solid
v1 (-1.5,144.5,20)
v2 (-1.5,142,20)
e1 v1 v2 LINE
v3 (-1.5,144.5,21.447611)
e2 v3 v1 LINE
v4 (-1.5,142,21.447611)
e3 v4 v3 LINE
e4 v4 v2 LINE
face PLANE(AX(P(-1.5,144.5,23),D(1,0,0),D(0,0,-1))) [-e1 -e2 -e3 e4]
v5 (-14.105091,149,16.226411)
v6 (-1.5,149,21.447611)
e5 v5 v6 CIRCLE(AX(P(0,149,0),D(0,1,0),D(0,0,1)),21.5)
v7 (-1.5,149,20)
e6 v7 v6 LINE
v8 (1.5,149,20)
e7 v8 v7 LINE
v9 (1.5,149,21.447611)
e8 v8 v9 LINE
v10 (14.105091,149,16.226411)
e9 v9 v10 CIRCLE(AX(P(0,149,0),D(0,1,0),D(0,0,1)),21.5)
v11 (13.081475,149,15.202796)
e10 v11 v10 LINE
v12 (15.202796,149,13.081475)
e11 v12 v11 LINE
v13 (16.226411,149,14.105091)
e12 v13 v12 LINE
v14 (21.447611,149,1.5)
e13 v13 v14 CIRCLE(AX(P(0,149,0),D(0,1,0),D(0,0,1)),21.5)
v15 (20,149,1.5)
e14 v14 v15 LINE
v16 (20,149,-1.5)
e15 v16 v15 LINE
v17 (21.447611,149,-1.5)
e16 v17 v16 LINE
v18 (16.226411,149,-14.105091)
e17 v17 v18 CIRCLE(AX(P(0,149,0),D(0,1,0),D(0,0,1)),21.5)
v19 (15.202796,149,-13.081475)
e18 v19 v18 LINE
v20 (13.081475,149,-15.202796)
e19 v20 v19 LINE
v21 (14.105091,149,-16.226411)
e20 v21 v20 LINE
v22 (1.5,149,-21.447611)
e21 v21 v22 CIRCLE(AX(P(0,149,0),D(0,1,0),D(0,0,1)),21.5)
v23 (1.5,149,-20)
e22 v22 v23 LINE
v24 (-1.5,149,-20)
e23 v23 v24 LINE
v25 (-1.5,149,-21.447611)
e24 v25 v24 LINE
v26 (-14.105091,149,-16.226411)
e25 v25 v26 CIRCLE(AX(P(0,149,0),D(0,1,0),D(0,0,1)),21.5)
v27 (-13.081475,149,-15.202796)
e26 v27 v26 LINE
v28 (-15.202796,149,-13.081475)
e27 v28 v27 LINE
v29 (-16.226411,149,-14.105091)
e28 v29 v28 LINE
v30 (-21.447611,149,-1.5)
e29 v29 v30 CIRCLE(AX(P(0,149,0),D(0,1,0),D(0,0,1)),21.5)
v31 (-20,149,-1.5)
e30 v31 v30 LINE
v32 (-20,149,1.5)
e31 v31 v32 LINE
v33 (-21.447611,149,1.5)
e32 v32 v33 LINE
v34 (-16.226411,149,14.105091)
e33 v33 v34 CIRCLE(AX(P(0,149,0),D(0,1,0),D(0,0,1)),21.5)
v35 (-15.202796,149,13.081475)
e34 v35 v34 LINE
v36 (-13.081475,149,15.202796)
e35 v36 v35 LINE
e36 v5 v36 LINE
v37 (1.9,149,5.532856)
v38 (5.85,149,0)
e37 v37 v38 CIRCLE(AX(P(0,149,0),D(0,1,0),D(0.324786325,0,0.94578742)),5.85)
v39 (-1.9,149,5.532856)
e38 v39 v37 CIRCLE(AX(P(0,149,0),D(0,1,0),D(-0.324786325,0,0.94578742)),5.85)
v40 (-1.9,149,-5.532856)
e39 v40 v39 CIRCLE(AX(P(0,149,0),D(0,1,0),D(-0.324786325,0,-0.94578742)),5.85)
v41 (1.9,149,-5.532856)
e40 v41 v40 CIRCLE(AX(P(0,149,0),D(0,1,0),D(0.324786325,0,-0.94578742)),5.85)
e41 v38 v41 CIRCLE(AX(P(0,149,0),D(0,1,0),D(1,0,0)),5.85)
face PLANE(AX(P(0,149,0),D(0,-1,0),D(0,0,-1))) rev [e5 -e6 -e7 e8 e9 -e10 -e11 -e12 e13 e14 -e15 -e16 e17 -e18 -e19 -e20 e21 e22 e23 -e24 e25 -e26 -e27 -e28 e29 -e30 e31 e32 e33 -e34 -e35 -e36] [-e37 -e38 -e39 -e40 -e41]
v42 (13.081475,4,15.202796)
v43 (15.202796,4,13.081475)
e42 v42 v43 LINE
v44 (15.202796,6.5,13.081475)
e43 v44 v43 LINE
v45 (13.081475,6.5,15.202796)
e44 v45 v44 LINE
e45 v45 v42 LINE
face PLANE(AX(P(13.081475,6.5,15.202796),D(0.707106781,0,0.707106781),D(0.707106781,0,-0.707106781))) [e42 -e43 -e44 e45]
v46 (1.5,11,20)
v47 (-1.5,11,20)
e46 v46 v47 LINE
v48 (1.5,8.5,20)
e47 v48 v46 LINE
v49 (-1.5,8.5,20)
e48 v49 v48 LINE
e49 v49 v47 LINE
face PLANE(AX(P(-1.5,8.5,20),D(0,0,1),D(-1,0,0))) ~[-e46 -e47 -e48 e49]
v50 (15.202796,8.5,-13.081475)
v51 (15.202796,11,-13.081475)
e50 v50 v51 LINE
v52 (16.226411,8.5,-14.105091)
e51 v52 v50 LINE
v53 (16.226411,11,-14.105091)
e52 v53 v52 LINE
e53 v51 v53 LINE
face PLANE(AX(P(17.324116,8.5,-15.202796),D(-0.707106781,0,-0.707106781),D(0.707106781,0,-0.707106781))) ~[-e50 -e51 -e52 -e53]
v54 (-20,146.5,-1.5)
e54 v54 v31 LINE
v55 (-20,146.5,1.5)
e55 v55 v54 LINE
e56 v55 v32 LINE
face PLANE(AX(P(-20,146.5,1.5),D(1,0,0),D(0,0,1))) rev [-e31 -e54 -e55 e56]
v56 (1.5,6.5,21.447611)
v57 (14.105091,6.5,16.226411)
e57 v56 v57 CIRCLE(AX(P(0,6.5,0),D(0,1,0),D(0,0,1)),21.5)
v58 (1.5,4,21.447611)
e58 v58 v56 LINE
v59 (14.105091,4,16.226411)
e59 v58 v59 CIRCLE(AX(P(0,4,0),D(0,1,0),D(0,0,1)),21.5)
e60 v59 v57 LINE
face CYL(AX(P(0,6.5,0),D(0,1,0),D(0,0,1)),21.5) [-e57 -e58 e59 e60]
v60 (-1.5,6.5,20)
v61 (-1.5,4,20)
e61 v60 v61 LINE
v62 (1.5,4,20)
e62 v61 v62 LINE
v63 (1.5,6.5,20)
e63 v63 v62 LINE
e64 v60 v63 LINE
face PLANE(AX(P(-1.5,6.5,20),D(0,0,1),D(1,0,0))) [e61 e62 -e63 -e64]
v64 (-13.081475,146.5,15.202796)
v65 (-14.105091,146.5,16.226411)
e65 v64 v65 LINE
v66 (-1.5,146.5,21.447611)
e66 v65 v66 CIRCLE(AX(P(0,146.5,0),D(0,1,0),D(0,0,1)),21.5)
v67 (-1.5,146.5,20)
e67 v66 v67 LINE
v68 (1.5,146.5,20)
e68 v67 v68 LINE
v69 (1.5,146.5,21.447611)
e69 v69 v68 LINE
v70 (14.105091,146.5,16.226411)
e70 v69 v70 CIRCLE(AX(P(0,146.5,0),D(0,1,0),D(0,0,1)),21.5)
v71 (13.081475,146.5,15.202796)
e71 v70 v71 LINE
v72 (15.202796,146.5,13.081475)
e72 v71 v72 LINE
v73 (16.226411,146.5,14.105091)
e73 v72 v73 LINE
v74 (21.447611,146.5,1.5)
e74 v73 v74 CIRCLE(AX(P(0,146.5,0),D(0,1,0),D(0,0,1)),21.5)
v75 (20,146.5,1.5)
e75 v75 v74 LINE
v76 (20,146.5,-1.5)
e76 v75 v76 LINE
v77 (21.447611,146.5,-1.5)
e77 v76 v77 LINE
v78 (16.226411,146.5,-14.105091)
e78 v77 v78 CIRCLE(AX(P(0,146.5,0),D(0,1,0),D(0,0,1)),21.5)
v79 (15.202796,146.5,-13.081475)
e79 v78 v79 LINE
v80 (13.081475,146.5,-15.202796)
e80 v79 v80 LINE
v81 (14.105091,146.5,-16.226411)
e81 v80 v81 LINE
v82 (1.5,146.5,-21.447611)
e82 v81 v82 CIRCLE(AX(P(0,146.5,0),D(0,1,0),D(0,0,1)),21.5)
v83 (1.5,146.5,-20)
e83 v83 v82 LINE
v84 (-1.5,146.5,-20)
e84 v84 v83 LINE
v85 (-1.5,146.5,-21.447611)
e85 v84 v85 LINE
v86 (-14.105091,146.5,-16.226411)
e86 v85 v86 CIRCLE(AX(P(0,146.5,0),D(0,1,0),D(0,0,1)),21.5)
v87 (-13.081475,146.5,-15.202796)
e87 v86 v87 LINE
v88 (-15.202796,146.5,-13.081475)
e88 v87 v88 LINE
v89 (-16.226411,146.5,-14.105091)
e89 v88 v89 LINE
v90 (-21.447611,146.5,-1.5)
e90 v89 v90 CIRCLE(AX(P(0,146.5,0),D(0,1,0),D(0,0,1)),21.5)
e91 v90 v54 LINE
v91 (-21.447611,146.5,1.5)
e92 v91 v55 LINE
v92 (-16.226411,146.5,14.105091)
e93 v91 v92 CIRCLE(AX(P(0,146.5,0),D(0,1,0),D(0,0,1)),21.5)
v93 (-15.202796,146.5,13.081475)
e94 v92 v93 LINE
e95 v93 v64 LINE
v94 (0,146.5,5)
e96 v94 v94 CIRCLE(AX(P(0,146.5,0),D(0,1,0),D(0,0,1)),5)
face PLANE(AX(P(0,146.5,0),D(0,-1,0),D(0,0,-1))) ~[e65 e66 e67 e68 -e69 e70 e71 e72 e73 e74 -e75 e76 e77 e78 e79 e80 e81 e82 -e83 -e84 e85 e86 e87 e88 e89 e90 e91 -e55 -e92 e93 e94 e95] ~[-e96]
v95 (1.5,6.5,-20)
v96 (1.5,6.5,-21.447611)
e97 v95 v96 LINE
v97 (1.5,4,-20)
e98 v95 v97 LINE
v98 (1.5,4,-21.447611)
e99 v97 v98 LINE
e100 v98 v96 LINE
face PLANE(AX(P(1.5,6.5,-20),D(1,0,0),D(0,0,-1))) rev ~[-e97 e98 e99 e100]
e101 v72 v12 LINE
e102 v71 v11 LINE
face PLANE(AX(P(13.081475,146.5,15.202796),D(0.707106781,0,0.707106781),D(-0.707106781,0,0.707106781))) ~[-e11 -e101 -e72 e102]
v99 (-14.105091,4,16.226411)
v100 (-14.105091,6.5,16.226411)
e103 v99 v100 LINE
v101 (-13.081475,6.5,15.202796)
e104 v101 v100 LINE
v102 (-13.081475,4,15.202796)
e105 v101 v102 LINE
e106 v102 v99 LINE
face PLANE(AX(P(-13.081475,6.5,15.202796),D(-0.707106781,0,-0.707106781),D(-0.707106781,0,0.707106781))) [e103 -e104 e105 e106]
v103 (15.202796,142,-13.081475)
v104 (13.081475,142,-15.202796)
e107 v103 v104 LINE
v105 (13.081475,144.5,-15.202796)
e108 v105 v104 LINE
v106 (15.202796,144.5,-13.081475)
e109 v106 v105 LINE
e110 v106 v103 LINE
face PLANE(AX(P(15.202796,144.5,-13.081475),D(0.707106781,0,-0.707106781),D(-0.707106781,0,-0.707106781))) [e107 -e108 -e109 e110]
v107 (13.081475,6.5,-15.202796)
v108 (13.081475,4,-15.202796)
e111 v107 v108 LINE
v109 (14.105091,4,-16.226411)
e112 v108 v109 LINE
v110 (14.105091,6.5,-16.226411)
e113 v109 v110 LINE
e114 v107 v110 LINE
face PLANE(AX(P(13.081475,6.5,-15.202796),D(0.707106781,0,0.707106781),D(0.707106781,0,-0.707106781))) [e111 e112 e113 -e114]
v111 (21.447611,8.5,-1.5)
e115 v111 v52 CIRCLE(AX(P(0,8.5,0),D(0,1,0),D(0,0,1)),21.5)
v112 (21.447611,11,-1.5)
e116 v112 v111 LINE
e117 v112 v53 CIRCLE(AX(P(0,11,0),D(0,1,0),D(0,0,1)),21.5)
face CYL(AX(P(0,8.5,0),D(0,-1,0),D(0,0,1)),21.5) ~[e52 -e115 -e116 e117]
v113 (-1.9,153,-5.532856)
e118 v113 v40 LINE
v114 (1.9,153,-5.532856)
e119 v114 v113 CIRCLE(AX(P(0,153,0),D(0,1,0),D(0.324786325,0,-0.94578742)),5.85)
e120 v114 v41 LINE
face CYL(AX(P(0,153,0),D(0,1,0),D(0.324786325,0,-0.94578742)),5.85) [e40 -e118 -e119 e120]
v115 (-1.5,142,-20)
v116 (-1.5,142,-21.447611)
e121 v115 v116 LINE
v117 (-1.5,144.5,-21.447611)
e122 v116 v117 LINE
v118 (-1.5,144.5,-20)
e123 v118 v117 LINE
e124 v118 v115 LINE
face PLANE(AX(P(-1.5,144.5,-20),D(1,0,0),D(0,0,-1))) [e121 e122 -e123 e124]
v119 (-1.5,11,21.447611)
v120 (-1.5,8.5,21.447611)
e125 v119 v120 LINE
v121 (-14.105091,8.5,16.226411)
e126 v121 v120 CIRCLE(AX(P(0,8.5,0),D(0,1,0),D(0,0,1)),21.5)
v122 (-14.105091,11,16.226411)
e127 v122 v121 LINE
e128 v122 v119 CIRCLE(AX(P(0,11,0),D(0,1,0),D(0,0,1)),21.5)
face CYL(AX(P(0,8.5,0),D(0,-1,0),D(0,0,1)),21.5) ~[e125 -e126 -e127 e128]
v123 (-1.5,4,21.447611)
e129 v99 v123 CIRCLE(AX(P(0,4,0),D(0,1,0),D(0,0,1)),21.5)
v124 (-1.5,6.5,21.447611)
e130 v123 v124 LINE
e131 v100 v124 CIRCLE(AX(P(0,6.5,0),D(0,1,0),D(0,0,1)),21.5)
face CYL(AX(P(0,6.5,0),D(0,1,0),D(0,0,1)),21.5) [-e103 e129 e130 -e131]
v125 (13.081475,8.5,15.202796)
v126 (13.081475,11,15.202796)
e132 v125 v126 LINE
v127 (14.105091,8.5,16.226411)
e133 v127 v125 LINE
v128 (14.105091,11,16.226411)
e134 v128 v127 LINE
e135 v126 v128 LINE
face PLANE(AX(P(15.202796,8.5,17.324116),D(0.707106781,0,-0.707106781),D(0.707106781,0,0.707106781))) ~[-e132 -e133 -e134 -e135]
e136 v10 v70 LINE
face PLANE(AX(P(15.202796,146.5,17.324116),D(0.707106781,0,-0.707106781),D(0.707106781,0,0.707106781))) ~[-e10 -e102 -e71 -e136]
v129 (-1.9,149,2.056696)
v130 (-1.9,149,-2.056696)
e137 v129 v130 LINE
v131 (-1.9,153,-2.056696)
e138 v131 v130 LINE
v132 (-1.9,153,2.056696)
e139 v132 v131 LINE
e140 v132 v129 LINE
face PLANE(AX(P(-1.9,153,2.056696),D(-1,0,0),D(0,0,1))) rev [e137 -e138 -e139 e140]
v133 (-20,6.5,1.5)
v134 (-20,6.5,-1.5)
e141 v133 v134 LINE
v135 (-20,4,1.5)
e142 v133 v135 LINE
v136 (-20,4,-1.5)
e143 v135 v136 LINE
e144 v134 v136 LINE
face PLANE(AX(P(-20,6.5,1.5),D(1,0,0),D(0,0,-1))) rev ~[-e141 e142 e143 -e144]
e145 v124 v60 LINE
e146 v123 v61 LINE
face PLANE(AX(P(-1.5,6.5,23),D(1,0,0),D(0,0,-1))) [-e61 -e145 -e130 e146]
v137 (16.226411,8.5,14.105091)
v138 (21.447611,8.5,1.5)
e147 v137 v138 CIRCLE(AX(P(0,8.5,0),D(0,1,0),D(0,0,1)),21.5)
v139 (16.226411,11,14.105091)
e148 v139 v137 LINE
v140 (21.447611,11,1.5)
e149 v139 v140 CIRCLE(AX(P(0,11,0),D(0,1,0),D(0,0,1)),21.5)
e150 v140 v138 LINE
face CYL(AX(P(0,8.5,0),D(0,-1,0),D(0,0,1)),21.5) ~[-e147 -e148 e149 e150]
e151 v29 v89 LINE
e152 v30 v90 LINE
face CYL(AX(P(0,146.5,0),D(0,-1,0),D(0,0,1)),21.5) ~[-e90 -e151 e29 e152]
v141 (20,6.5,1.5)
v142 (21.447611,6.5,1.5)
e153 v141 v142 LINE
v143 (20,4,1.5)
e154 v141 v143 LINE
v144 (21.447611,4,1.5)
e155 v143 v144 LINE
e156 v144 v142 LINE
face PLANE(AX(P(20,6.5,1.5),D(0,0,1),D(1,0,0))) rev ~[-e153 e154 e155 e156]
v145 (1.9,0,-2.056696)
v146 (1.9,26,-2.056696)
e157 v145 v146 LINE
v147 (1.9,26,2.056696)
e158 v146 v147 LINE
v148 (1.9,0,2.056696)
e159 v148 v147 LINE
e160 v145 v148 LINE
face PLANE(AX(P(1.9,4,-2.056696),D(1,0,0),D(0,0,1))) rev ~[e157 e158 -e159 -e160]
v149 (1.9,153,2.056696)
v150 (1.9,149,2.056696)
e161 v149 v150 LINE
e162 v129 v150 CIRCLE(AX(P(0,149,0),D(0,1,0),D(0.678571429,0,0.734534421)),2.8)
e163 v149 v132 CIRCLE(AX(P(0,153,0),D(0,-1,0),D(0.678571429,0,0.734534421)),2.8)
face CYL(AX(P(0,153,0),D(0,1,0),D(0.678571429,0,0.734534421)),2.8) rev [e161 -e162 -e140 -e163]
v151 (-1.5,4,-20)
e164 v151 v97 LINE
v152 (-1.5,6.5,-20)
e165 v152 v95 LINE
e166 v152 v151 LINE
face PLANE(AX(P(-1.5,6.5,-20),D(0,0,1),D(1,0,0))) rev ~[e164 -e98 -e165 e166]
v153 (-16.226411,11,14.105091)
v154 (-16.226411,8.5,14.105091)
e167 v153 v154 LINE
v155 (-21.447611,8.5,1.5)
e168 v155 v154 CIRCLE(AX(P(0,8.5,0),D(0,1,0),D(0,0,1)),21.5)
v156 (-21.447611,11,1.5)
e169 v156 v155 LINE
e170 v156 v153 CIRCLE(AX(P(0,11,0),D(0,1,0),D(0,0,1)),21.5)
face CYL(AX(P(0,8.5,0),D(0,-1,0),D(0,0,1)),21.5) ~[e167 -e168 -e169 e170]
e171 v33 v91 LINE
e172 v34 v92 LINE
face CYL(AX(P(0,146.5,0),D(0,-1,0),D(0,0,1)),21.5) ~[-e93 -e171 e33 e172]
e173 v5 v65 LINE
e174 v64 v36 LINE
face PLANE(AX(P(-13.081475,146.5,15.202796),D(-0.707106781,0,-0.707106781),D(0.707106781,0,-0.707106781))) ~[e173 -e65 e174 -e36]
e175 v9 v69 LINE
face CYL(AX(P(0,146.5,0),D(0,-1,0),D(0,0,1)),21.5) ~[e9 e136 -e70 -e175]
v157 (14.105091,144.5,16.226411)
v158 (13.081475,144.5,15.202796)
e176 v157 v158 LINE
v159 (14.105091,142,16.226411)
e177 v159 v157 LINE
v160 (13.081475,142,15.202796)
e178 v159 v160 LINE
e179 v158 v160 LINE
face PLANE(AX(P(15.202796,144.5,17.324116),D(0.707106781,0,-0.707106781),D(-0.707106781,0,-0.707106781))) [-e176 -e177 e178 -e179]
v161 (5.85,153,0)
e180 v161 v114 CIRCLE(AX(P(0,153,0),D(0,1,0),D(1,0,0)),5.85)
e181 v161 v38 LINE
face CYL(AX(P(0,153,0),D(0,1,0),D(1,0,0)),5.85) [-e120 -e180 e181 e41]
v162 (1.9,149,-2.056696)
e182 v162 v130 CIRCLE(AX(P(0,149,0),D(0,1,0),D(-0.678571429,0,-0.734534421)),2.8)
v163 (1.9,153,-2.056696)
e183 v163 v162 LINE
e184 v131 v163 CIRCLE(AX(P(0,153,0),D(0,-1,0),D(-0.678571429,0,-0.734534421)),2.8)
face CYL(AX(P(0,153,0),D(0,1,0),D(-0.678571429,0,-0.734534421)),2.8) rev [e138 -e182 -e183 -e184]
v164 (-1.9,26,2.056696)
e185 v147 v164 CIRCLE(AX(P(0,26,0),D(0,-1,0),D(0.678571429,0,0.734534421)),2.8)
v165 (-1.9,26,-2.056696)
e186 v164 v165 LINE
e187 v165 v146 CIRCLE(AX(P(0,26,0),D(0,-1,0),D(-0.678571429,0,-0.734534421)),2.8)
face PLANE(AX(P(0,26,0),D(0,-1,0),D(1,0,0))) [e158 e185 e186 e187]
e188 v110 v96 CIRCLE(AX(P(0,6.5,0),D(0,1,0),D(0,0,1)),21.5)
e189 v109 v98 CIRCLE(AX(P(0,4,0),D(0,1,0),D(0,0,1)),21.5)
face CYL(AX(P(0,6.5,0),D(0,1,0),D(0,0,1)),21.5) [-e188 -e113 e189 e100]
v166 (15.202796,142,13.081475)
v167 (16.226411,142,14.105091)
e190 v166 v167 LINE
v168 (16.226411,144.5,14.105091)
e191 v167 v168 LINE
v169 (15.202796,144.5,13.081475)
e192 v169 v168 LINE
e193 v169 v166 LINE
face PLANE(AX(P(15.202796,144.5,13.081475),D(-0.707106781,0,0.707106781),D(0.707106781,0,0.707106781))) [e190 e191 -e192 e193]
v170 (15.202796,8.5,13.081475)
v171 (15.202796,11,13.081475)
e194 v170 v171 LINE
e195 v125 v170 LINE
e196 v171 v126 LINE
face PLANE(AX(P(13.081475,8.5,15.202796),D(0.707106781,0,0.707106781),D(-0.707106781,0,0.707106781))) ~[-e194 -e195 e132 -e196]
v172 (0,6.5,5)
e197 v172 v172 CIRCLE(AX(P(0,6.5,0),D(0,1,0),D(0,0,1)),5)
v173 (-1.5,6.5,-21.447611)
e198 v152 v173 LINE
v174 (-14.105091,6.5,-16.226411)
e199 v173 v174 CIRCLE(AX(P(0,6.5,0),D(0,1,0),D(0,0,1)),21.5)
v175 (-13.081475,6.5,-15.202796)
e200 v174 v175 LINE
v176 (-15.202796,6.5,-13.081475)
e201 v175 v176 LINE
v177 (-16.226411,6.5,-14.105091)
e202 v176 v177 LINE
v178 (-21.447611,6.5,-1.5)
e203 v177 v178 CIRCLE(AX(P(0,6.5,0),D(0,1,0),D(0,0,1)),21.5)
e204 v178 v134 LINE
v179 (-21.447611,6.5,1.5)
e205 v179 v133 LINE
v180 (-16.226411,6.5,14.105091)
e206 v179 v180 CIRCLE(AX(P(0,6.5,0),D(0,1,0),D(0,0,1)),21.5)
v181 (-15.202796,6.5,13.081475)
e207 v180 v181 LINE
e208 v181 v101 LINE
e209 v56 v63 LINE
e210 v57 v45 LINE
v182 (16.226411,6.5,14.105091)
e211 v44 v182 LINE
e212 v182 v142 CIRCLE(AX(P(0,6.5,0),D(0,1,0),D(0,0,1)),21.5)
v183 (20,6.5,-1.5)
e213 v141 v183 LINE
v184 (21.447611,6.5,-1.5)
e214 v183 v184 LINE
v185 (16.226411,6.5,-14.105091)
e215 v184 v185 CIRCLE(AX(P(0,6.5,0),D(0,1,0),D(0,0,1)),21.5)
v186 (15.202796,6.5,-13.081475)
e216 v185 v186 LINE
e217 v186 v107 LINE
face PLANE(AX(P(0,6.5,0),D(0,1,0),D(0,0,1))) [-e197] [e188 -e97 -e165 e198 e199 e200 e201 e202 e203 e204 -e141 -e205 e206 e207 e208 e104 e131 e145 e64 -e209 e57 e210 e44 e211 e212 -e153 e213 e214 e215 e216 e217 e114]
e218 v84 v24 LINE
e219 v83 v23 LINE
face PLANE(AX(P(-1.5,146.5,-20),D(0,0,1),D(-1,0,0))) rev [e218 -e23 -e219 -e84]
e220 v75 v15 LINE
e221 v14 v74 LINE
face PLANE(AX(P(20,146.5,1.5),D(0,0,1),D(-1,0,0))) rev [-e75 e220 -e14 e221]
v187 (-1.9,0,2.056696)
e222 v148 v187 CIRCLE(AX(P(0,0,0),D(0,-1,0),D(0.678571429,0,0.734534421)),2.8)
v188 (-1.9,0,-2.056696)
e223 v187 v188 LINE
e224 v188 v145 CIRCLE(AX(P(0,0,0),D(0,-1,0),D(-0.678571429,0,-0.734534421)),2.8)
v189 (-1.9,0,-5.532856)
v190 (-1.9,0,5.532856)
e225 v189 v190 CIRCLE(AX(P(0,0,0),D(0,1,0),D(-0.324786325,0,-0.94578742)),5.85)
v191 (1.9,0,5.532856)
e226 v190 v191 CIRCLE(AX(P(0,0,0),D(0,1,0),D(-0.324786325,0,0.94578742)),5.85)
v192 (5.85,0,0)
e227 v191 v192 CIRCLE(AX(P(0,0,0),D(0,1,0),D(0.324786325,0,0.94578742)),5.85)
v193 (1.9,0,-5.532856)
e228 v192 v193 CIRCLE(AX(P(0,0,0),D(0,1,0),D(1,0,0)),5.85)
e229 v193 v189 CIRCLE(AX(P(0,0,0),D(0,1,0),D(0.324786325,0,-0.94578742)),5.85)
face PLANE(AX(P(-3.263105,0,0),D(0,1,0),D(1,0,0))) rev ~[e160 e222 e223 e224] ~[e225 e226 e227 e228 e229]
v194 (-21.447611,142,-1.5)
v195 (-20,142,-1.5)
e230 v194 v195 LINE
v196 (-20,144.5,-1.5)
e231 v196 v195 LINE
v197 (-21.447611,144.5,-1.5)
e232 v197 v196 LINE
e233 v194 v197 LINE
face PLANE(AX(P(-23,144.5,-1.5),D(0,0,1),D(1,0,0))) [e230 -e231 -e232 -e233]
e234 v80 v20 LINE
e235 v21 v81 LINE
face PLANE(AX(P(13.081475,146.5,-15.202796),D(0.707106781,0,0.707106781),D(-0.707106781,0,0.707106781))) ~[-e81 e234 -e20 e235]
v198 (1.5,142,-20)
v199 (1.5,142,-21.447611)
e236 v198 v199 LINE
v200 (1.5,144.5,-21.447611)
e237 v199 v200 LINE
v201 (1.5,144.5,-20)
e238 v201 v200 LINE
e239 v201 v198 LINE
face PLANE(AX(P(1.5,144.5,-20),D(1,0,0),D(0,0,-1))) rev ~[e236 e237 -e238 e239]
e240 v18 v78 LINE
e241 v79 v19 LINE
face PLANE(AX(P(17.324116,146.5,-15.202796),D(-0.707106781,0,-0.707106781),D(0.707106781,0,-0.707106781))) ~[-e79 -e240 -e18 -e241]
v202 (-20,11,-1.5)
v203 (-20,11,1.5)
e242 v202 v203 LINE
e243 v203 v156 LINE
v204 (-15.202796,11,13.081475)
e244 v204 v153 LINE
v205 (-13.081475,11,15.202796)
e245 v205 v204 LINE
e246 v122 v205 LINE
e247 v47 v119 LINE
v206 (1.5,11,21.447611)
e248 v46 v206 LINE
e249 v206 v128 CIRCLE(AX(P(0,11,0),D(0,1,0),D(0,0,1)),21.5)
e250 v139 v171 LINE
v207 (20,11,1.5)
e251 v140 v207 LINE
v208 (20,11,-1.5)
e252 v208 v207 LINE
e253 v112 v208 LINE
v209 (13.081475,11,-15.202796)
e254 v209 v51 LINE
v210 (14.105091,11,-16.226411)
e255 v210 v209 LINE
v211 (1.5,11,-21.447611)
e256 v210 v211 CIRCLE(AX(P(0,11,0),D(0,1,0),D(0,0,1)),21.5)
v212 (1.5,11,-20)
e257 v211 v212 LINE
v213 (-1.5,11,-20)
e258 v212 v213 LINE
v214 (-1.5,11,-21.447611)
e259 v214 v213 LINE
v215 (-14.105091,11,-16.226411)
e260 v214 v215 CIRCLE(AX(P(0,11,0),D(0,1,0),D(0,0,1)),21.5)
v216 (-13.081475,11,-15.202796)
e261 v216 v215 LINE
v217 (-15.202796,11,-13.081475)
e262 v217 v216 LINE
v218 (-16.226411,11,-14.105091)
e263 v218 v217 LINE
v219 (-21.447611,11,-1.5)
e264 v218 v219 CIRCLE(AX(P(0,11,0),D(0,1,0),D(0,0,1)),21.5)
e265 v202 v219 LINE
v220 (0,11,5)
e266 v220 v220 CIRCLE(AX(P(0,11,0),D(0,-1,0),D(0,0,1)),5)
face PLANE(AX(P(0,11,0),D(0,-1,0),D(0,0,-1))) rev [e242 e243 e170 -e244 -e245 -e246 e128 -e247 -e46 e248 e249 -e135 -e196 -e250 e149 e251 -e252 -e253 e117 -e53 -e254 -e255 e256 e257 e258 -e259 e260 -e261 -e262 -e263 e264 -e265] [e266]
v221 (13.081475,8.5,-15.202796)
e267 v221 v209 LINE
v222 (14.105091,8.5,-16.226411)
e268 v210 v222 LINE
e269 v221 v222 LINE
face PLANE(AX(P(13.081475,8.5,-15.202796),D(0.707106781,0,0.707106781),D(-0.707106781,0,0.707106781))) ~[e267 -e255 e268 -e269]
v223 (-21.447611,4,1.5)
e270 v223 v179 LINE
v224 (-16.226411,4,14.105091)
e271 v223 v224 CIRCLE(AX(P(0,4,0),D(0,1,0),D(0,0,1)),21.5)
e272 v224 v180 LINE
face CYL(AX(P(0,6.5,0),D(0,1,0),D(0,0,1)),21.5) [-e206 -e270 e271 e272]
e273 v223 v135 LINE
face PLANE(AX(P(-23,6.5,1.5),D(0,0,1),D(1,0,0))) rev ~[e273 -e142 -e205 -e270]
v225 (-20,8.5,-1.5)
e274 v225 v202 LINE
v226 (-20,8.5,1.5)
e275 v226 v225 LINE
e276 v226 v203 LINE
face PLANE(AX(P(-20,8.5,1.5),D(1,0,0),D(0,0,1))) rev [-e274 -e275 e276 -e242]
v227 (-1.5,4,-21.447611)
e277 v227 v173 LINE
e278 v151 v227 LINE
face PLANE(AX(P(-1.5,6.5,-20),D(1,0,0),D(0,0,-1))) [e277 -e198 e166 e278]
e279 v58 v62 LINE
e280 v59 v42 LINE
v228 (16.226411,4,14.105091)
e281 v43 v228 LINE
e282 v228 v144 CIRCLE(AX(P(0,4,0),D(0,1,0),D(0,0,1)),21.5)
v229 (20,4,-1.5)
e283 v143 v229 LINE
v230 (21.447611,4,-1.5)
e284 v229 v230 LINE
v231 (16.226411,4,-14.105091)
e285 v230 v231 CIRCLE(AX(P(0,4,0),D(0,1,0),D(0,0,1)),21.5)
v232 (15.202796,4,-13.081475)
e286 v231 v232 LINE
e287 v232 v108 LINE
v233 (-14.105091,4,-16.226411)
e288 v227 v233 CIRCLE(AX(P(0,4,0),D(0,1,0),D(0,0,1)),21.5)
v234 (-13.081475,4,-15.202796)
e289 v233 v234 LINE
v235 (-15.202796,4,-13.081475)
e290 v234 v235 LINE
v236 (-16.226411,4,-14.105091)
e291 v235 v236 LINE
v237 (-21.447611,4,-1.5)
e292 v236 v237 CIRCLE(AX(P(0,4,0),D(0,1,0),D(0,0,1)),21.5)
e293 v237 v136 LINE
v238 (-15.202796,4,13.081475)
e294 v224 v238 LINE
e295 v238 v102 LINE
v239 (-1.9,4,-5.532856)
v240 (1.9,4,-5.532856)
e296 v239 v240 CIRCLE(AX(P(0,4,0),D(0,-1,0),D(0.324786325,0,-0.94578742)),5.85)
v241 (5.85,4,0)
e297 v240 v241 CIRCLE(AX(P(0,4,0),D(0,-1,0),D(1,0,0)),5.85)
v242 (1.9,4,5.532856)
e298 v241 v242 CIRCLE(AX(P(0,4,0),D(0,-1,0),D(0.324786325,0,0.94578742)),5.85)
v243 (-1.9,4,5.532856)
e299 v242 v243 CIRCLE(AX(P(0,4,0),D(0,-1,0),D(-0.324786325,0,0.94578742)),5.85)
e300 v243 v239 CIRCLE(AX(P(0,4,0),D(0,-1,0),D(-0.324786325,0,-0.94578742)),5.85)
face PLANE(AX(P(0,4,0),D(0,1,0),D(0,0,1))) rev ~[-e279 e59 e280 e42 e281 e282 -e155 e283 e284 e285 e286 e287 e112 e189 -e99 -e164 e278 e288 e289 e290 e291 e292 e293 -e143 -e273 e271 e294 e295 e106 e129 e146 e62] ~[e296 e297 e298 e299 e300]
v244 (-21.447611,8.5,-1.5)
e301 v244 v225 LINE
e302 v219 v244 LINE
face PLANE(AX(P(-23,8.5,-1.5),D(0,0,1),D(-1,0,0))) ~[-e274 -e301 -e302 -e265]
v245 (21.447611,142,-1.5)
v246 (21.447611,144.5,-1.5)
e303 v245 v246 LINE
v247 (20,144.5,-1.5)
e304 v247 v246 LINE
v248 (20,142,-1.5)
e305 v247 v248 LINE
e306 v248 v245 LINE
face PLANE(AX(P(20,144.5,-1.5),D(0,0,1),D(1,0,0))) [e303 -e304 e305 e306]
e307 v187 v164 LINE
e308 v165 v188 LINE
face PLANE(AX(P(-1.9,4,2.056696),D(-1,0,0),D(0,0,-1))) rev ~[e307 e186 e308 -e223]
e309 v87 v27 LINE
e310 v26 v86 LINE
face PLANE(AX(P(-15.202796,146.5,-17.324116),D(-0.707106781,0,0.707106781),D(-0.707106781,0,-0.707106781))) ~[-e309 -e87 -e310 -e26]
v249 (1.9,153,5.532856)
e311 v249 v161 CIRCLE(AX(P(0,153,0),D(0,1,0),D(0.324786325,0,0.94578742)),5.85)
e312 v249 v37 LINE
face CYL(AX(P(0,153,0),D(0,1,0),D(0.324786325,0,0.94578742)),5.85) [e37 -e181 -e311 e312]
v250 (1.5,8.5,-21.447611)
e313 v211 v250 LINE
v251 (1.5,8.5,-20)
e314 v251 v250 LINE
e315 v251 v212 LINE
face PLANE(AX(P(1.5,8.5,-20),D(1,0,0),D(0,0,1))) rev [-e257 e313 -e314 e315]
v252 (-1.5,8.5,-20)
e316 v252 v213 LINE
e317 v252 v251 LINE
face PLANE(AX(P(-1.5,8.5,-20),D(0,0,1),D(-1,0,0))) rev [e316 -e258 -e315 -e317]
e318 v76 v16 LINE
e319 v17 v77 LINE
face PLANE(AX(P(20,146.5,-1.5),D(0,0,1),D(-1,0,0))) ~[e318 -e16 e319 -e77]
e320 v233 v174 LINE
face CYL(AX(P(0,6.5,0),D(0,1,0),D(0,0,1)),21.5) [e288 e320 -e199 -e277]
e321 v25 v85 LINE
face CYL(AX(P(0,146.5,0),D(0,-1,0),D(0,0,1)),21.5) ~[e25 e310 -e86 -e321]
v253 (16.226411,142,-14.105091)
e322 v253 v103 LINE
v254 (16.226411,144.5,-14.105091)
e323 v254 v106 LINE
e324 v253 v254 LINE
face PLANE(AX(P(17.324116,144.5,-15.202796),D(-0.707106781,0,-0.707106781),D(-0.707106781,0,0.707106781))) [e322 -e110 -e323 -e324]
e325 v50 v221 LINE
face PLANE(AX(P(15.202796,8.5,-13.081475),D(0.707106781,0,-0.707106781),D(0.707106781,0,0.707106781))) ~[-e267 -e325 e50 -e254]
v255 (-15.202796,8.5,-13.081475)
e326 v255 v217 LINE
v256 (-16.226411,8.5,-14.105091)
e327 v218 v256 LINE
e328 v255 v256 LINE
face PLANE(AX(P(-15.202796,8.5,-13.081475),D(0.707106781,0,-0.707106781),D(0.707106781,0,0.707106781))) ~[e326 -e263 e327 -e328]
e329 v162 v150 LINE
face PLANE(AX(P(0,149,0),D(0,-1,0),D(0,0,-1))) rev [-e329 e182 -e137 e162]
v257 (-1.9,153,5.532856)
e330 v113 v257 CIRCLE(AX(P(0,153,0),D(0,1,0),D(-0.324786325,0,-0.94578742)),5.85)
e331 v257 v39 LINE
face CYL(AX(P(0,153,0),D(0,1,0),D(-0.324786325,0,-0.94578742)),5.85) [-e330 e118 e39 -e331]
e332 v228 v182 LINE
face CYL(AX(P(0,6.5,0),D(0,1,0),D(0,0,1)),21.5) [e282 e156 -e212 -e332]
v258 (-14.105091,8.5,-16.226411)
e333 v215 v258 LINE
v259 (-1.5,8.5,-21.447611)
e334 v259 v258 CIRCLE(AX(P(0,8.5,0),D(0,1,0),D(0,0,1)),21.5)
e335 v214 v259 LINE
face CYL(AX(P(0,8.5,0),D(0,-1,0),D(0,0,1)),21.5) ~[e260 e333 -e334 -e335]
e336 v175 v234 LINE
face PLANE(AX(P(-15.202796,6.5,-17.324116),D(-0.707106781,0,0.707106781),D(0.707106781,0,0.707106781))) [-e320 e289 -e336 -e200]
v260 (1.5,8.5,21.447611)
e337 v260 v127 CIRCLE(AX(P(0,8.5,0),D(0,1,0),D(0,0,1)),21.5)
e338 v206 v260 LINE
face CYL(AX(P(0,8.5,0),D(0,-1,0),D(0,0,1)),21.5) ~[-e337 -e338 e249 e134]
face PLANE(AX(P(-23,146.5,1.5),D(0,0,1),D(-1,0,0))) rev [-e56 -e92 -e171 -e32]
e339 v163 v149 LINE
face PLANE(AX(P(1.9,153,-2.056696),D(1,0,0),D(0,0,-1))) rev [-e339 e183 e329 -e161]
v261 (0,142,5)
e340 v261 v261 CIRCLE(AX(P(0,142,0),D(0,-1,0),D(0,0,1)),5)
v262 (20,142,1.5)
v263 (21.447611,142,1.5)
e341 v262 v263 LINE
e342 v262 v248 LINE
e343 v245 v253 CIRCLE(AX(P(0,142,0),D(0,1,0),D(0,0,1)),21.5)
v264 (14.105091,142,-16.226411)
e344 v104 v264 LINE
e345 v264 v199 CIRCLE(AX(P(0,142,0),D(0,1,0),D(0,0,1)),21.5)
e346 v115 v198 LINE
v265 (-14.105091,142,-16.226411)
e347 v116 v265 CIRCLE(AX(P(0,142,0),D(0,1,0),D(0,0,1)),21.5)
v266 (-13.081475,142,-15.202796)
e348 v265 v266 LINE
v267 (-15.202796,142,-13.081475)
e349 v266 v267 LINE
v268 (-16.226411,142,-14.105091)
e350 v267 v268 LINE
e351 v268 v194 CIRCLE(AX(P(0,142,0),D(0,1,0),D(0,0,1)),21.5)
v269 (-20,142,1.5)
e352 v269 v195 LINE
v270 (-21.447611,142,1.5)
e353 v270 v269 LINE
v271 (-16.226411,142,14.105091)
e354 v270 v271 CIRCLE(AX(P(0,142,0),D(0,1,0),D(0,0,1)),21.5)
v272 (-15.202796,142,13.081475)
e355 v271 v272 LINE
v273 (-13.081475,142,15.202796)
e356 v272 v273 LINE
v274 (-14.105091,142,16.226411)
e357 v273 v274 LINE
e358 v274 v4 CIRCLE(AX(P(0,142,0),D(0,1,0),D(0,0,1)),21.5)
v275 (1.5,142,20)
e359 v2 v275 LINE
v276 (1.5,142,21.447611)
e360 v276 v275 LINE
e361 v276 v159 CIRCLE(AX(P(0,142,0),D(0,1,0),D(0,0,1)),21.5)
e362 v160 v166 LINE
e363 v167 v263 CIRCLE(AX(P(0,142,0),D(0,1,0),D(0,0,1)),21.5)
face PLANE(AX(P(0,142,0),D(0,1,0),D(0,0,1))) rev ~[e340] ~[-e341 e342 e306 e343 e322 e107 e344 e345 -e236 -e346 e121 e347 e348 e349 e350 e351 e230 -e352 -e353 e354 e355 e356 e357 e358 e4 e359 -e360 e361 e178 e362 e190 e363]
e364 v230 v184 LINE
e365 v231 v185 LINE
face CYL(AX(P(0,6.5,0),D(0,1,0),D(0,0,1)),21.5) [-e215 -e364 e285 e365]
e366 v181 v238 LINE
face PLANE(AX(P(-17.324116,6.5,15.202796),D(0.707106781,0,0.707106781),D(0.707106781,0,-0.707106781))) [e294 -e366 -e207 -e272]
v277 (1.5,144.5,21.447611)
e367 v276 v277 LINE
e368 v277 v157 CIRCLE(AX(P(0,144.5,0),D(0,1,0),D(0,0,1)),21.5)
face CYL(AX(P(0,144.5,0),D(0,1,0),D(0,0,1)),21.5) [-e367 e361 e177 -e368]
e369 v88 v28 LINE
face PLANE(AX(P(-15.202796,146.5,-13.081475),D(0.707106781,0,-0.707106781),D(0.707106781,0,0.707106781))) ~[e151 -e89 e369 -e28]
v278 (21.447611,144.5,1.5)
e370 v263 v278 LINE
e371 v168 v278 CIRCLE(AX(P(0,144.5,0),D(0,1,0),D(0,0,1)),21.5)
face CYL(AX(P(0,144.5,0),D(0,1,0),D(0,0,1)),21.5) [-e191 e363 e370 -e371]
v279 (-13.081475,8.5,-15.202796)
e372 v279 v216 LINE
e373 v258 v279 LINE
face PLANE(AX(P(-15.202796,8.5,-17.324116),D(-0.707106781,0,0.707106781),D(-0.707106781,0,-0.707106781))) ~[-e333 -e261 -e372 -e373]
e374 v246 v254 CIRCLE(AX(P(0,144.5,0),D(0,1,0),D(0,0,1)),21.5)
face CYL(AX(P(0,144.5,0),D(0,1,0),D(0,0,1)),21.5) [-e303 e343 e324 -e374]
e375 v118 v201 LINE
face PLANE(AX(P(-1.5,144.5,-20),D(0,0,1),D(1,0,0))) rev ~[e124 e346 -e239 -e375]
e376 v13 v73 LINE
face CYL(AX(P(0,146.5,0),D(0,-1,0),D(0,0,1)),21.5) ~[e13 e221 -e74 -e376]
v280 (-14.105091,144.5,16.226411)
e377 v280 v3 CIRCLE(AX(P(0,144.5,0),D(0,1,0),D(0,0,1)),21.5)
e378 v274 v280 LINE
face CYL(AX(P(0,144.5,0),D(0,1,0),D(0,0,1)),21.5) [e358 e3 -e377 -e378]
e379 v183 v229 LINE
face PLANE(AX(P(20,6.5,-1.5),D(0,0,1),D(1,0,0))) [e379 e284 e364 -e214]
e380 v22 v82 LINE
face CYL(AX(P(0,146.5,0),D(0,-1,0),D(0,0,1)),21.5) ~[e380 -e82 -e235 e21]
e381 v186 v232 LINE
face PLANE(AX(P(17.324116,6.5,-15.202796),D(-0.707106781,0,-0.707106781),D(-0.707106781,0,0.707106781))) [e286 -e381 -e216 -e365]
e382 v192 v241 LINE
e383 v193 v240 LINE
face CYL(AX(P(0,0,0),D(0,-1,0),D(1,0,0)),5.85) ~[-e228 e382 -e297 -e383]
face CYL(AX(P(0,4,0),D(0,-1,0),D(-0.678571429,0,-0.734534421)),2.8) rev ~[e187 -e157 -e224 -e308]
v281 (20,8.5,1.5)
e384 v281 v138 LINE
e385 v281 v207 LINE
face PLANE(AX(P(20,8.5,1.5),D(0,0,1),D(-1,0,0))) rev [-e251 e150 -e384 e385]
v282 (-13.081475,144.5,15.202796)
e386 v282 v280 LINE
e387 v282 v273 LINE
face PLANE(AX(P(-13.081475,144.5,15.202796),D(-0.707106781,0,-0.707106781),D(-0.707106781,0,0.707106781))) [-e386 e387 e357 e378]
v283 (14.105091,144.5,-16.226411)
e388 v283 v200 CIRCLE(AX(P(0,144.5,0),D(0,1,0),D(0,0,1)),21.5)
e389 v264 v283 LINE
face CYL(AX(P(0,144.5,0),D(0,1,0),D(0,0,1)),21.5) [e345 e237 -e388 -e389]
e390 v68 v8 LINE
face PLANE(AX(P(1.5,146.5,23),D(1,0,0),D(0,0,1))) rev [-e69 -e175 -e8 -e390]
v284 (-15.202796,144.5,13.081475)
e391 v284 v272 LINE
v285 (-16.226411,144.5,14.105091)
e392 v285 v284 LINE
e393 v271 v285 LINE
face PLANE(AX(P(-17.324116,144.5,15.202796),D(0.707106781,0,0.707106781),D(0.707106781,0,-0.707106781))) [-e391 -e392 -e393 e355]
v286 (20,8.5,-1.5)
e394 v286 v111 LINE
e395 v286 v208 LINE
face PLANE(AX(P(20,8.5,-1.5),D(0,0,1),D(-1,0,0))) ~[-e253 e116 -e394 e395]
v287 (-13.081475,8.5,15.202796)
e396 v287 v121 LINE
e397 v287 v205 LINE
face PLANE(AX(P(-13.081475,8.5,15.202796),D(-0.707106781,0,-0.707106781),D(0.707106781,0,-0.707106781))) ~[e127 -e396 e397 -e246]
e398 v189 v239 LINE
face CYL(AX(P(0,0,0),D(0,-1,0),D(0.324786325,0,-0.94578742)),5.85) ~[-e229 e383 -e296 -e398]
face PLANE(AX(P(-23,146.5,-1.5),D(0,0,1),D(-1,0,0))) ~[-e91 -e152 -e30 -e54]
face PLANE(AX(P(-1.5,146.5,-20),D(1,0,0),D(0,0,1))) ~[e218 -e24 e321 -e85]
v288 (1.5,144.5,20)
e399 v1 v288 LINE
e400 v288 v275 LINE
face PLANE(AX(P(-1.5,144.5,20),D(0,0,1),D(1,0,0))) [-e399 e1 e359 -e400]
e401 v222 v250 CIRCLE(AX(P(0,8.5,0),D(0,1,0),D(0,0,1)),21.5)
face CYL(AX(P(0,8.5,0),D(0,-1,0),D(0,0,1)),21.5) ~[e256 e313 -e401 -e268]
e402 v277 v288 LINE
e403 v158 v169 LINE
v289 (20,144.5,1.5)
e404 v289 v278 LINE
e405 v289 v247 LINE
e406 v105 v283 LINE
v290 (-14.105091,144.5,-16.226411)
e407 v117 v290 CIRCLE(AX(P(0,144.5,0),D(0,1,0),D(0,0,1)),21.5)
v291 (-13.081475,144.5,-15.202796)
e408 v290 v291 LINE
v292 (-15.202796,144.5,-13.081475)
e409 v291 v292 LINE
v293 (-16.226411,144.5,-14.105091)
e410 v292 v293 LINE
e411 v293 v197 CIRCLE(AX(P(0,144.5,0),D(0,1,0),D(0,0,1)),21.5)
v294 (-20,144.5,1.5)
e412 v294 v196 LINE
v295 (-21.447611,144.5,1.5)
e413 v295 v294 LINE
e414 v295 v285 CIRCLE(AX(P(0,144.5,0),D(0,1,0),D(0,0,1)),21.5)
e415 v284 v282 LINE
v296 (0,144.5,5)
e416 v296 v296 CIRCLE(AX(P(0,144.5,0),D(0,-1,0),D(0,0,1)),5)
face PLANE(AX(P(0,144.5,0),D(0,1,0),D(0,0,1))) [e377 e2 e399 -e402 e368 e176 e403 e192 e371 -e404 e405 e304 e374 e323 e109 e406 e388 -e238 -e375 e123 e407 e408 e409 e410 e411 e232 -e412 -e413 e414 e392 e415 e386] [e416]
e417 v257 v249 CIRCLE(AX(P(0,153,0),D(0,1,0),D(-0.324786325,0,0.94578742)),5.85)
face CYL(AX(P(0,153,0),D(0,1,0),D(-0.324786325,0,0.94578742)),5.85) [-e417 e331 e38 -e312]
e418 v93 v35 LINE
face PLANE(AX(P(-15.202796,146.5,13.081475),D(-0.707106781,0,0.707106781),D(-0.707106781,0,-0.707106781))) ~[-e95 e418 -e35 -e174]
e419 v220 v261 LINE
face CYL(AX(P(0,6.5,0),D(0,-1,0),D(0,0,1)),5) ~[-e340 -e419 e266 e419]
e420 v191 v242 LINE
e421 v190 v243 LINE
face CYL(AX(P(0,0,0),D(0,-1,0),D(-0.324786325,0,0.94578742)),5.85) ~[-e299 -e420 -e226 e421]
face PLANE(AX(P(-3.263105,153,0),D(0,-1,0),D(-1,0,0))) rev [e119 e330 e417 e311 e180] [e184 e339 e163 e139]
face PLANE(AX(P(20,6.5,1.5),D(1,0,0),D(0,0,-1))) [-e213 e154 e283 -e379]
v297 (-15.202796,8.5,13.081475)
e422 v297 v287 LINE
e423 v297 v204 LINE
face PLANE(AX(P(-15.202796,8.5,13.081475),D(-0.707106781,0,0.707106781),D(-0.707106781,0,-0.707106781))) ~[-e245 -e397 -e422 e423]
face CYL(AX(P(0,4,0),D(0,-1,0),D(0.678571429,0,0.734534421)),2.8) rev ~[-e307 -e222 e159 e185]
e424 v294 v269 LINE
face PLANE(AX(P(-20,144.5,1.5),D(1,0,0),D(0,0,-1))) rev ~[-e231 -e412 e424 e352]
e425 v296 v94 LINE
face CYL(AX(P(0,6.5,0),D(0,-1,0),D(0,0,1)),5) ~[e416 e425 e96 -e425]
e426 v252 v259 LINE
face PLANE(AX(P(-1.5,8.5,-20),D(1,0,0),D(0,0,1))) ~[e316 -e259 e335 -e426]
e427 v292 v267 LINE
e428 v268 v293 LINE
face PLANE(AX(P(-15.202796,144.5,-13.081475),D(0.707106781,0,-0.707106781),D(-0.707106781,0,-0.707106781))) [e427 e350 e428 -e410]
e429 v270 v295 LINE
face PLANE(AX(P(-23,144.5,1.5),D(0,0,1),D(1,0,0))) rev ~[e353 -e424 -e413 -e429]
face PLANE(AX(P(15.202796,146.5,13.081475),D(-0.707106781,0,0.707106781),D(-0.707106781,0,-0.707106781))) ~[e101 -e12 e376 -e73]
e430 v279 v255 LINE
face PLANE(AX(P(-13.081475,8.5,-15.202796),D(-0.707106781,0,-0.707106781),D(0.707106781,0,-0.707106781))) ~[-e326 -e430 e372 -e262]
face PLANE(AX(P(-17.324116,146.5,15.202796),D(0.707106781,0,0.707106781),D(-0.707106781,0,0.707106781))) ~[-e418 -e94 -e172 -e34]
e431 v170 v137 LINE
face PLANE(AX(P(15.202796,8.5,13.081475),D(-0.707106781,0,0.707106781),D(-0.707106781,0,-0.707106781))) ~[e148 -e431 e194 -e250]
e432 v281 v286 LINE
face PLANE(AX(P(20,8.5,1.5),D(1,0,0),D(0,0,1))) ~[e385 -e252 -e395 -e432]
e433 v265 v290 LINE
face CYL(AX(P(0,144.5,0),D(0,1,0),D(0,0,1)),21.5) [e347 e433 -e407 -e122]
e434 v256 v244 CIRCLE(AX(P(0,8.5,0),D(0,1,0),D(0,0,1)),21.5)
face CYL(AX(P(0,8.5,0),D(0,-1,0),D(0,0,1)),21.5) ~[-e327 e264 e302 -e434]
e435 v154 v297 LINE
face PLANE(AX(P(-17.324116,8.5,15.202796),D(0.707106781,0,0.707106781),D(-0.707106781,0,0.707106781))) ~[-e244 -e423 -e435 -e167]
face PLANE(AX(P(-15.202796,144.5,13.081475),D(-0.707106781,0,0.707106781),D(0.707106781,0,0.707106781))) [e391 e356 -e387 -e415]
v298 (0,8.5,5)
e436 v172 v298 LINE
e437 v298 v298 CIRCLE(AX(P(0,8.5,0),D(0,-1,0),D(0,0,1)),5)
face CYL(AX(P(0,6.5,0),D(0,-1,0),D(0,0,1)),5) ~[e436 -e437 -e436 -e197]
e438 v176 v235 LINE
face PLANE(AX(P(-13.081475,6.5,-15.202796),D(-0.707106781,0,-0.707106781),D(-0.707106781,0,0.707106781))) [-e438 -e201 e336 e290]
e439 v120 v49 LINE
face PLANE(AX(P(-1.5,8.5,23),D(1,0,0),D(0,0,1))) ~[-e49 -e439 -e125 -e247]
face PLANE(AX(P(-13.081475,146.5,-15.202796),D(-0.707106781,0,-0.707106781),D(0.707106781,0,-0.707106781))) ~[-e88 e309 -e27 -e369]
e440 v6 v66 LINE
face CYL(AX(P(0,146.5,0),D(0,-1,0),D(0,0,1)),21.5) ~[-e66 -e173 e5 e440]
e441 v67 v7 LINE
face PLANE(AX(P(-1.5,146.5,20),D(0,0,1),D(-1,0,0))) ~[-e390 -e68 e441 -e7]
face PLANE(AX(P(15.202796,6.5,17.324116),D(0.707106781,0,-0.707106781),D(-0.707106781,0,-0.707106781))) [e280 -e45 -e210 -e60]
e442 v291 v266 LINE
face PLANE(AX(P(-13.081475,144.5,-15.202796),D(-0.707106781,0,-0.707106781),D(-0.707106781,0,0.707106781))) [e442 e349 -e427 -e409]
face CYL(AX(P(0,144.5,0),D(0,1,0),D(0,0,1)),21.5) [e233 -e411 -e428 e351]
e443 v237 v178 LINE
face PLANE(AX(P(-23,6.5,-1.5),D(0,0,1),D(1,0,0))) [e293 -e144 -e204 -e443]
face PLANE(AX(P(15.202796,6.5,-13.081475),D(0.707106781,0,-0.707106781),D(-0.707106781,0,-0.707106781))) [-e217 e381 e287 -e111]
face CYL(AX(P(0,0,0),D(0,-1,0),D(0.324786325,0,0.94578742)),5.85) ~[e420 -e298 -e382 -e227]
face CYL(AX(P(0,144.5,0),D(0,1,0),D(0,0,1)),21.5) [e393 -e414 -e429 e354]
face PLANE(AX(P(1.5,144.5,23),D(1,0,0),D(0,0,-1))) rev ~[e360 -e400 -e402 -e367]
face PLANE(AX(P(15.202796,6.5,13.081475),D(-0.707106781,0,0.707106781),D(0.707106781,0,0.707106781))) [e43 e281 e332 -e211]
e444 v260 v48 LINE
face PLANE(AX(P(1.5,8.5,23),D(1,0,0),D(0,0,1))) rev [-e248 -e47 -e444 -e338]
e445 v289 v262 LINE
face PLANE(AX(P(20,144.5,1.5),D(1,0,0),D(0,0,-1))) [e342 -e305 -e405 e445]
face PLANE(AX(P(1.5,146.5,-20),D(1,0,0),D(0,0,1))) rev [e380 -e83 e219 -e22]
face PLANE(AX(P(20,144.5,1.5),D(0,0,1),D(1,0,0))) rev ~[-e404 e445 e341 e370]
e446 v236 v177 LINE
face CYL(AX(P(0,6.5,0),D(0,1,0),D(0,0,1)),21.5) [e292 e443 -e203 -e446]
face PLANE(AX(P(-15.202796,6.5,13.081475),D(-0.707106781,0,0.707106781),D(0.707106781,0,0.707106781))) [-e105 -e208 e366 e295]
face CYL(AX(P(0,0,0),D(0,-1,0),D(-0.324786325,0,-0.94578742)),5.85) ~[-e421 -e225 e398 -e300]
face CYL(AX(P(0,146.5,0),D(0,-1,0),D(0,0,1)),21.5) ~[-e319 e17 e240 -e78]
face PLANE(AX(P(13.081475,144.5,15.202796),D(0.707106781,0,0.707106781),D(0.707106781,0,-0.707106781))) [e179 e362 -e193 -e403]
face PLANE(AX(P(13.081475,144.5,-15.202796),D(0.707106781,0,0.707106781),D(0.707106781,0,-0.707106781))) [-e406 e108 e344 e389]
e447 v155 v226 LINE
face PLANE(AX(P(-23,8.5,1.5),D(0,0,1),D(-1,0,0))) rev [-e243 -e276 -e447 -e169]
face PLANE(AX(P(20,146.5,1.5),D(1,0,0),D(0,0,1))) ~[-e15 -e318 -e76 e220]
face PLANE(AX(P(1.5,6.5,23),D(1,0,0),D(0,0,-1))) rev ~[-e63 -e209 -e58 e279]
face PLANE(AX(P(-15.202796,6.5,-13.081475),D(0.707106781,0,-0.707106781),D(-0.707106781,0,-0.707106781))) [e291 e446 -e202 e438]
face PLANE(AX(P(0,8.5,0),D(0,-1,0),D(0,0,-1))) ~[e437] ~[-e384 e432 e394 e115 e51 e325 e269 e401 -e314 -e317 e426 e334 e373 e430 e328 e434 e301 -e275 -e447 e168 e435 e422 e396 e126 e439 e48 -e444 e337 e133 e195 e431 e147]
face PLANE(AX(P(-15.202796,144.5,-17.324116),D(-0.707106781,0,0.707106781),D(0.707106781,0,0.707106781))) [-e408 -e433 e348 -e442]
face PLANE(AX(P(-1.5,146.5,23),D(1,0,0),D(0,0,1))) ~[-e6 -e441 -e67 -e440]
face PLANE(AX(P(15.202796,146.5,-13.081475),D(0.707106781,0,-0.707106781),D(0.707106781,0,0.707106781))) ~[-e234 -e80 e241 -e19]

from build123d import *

# Parameters (mm, degrees)
BOSS_EXTRUDE1_DEPTH     = 6.5
SKETCH2_R               = 21.5
BOSS_EXTRUDE2_DEPTH     = 2.5
CUT_EXTRUDE1_DEPTH      = 8
SKETCH4_W               = 3
SKETCH4_H               = 3
CUT_EXTRUDE2_DEPTH      = 10
SKETCH5_R               = 5
BOSS_EXTRUDE3_DEPTH     = 140
CUT_EXTRUDE3_DEPTH      = 15
MIRROR6_COPY_1_SKETCH_R = 21.5
MIRROR6_COPY_1_DEPTH    = 2.5
MIRROR6_COPY_2_SKETCH_W = 3
MIRROR6_COPY_2_SKETCH_H = 3
MIRROR6_COPY_2_DEPTH    = 10


with BuildPart() as part:
    # Sketch1 → Boss-Extrude1 (new body)
    with BuildSketch(Plane(origin=(0, 0, 0), x_dir=(1, 0, 0), z_dir=(0, 1, 0))):
        with BuildLine():
            ThreePointArc((-1.9, -2.05669638), (-2.8, 0), (-1.9, 2.05669638))
            Line((-1.9, 2.05669638), (-1.9, 5.532856405))
            ThreePointArc((-1.9, 5.532856405), (-5.85, 0), (-1.9, -5.532856405))
            Line((-1.9, -5.532856405), (-1.9, -2.05669638))
        make_face()
        with BuildLine():
            ThreePointArc((-1.9, 2.05669638), (0, 2.8), (1.9, 2.05669638))
            Line((1.9, 2.05669638), (1.9, 5.532856405))
            ThreePointArc((1.9, 5.532856405), (0, 5.85), (-1.9, 5.532856405))
            Line((-1.9, 5.532856405), (-1.9, 2.05669638))
        make_face()
        with BuildLine():
            Line((1.9, 5.532856405), (1.9, 2.05669638))
            ThreePointArc((1.9, 2.05669638), (2.565151068, 1.122497216), (2.8, 0))
            ThreePointArc((2.8, 0), (2.565151068, -1.122497216), (1.9, -2.05669638))
            Line((1.9, -2.05669638), (1.9, -5.532856405))
            ThreePointArc((1.9, -5.532856405), (4.761171074, -3.399080758), (5.85, 0))
            ThreePointArc((5.85, 0), (4.761171074, 3.399080758), (1.9, 5.532856405))
        make_face()
        with BuildLine():
            Line((1.9, -5.532856405), (1.9, -2.05669638))
            ThreePointArc((1.9, -2.05669638), (0, -2.8), (-1.9, -2.05669638))
            Line((-1.9, -2.05669638), (-1.9, -5.532856405))
            ThreePointArc((-1.9, -5.532856405), (0, -5.85), (1.9, -5.532856405))
        make_face()
        with BuildLine():
            Line((-1.9, -2.05669638), (-1.9, 2.05669638))
            ThreePointArc((-1.9, 2.05669638), (-2.8, 0), (-1.9, -2.05669638))
        make_face()
        with BuildLine():
            ThreePointArc((2.8, 0), (2.565151068, 1.122497216), (1.9, 2.05669638))
            Line((1.9, 2.05669638), (1.9, -2.05669638))
            ThreePointArc((1.9, -2.05669638), (2.565151068, -1.122497216), (2.8, 0))
        make_face()
    boss_extrude1 = extrude(amount=BOSS_EXTRUDE1_DEPTH)

    # Sketch2 → Boss-Extrude2 (add)
    with BuildSketch(Plane(origin=(0, 6.5, 0), x_dir=(1, 0, 0), z_dir=(0, 1, 0))):
        with Locations(Location((0, 0, 0), (0, 0, 270))):
            Circle(SKETCH2_R)
    boss_extrude2 = extrude(amount=-BOSS_EXTRUDE2_DEPTH)

    # Sketch3 → Cut-Extrude1 (cut)
    with BuildSketch(Plane.XZ.offset(-4)):
        with BuildLine():
            Line((-1.9, 2.05669638), (-1.9, -2.05669638))
            ThreePointArc((-1.9, -2.05669638), (0, -2.8), (1.9, -2.05669638))
            Line((1.9, -2.05669638), (1.9, 2.05669638))
            ThreePointArc((1.9, 2.05669638), (0, 2.8), (-1.9, 2.05669638))
        make_face()
    cut_extrude1 = extrude(amount=-CUT_EXTRUDE1_DEPTH, mode=Mode.SUBTRACT)

    # Sketch4 → Cut-Extrude2 (cut)
    with BuildSketch(Plane(origin=(0, 6.5, 0), x_dir=(1, 0, 0), z_dir=(0, 1, 0))):
        Polygon((15.202795796, -13.081475452), (17.324116139, -15.202795796), (15.202795796, -17.324116139), (13.081475452, -15.202795796), align=None)
        with Locations((21.5, 0)):
            Rectangle(SKETCH4_W, SKETCH4_H)
        with Locations((0, -21.5)):
            Rectangle(SKETCH4_W, SKETCH4_H)
        Polygon((-13.081475452, -15.202795796), (-15.202795796, -17.324116139), (-17.324116139, -15.202795796), (-15.202795796, -13.081475452), align=None)
        with Locations((-21.5, 0)):
            Rectangle(SKETCH4_W, SKETCH4_H)
        Polygon((-15.202795796, 13.081475452), (-17.324116139, 15.202795796), (-15.202795796, 17.324116139), (-13.081475452, 15.202795796), align=None)
        with Locations((0, 21.5)):
            Rectangle(SKETCH4_W, SKETCH4_H)
        Polygon((13.081475452, 15.202795796), (15.202795796, 17.324116139), (17.324116139, 15.202795796), (15.202795796, 13.081475452), align=None)
    cut_extrude2 = extrude(amount=-CUT_EXTRUDE2_DEPTH, mode=Mode.SUBTRACT)

    # Sketch5 → Boss-Extrude3 (add)
    with BuildSketch(Plane(origin=(0, 6.5, 0), x_dir=(1, 0, 0), z_dir=(0, 1, 0))):
        with Locations(Location((0, 0, 0), (0, 0, 270))):
            Circle(SKETCH5_R)
    extrude(amount=BOSS_EXTRUDE3_DEPTH)

    # Mirror1: Boss-Extrude2 across plane
    add(boss_extrude2.mirror(Plane.ZX.offset(76.5)))

    # Mirror2: Boss-Extrude1 across plane
    add(boss_extrude1.mirror(Plane.ZX.offset(76.5)))

    # Mirror3: Boss-Extrude2, Cut-Extrude1, Cut-Extrude2 across plane
    add(boss_extrude2.mirror(Plane.ZX.offset(7.5)))
    add(cut_extrude1.mirror(Plane.ZX.offset(7.5)), mode=Mode.SUBTRACT)
    add(cut_extrude2.mirror(Plane.ZX.offset(7.5)), mode=Mode.SUBTRACT)

    # Sketch6 → Cut-Extrude3 (cut)
    with BuildSketch(Plane.XZ.offset(-11)):
        with BuildLine():
            Line((-1.9, 2.05669638), (-1.9, -2.05669638))
            ThreePointArc((-1.9, -2.05669638), (0, -2.8), (1.9, -2.05669638))
            Line((1.9, -2.05669638), (1.9, 2.05669638))
            ThreePointArc((1.9, 2.05669638), (0, 2.8), (-1.9, 2.05669638))
        make_face()
    extrude(amount=-CUT_EXTRUDE3_DEPTH, mode=Mode.SUBTRACT)

    # Mirror5: Cut-Extrude2 across plane
    add(cut_extrude2.mirror(Plane.ZX.offset(76.5)), mode=Mode.SUBTRACT)

    # Mirror6 copy 1 sketch → Mirror6 copy 1 (add)
    with BuildSketch(Plane(origin=(0, 144.5, 0), x_dir=(1, 0, 0), z_dir=(0, 1, 0))):
        with Locations(Location((0, 0, 0), (0, 0, 270))):
            Circle(MIRROR6_COPY_1_SKETCH_R)
    extrude(amount=-MIRROR6_COPY_1_DEPTH)

    # Mirror6 copy 2 sketch → Mirror6 copy 2 (cut)
    with BuildSketch(Plane(origin=(0, 144.5, 0), x_dir=(1, 0, 0), z_dir=(0, 1, 0))):
        Polygon((15.202795796, -13.081475452), (17.324116139, -15.202795796), (15.202795796, -17.324116139), (13.081475452, -15.202795796), align=None)
        with Locations((21.5, 0)):
            Rectangle(MIRROR6_COPY_2_SKETCH_W, MIRROR6_COPY_2_SKETCH_H)
        with Locations((0, -21.5)):
            Rectangle(MIRROR6_COPY_2_SKETCH_W, MIRROR6_COPY_2_SKETCH_H)
        Polygon((-13.081475452, -15.202795796), (-15.202795796, -17.324116139), (-17.324116139, -15.202795796), (-15.202795796, -13.081475452), align=None)
        with Locations((-21.5, 0)):
            Rectangle(MIRROR6_COPY_2_SKETCH_W, MIRROR6_COPY_2_SKETCH_H)
        Polygon((-15.202795796, 13.081475452), (-17.324116139, 15.202795796), (-15.202795796, 17.324116139), (-13.081475452, 15.202795796), align=None)
        with Locations((0, 21.5)):
            Rectangle(MIRROR6_COPY_2_SKETCH_W, MIRROR6_COPY_2_SKETCH_H)
        Polygon((13.081475452, 15.202795796), (15.202795796, 17.324116139), (17.324116139, 15.202795796), (15.202795796, 13.081475452), align=None)
    extrude(amount=-MIRROR6_COPY_2_DEPTH, mode=Mode.SUBTRACT)


solid = part.part
